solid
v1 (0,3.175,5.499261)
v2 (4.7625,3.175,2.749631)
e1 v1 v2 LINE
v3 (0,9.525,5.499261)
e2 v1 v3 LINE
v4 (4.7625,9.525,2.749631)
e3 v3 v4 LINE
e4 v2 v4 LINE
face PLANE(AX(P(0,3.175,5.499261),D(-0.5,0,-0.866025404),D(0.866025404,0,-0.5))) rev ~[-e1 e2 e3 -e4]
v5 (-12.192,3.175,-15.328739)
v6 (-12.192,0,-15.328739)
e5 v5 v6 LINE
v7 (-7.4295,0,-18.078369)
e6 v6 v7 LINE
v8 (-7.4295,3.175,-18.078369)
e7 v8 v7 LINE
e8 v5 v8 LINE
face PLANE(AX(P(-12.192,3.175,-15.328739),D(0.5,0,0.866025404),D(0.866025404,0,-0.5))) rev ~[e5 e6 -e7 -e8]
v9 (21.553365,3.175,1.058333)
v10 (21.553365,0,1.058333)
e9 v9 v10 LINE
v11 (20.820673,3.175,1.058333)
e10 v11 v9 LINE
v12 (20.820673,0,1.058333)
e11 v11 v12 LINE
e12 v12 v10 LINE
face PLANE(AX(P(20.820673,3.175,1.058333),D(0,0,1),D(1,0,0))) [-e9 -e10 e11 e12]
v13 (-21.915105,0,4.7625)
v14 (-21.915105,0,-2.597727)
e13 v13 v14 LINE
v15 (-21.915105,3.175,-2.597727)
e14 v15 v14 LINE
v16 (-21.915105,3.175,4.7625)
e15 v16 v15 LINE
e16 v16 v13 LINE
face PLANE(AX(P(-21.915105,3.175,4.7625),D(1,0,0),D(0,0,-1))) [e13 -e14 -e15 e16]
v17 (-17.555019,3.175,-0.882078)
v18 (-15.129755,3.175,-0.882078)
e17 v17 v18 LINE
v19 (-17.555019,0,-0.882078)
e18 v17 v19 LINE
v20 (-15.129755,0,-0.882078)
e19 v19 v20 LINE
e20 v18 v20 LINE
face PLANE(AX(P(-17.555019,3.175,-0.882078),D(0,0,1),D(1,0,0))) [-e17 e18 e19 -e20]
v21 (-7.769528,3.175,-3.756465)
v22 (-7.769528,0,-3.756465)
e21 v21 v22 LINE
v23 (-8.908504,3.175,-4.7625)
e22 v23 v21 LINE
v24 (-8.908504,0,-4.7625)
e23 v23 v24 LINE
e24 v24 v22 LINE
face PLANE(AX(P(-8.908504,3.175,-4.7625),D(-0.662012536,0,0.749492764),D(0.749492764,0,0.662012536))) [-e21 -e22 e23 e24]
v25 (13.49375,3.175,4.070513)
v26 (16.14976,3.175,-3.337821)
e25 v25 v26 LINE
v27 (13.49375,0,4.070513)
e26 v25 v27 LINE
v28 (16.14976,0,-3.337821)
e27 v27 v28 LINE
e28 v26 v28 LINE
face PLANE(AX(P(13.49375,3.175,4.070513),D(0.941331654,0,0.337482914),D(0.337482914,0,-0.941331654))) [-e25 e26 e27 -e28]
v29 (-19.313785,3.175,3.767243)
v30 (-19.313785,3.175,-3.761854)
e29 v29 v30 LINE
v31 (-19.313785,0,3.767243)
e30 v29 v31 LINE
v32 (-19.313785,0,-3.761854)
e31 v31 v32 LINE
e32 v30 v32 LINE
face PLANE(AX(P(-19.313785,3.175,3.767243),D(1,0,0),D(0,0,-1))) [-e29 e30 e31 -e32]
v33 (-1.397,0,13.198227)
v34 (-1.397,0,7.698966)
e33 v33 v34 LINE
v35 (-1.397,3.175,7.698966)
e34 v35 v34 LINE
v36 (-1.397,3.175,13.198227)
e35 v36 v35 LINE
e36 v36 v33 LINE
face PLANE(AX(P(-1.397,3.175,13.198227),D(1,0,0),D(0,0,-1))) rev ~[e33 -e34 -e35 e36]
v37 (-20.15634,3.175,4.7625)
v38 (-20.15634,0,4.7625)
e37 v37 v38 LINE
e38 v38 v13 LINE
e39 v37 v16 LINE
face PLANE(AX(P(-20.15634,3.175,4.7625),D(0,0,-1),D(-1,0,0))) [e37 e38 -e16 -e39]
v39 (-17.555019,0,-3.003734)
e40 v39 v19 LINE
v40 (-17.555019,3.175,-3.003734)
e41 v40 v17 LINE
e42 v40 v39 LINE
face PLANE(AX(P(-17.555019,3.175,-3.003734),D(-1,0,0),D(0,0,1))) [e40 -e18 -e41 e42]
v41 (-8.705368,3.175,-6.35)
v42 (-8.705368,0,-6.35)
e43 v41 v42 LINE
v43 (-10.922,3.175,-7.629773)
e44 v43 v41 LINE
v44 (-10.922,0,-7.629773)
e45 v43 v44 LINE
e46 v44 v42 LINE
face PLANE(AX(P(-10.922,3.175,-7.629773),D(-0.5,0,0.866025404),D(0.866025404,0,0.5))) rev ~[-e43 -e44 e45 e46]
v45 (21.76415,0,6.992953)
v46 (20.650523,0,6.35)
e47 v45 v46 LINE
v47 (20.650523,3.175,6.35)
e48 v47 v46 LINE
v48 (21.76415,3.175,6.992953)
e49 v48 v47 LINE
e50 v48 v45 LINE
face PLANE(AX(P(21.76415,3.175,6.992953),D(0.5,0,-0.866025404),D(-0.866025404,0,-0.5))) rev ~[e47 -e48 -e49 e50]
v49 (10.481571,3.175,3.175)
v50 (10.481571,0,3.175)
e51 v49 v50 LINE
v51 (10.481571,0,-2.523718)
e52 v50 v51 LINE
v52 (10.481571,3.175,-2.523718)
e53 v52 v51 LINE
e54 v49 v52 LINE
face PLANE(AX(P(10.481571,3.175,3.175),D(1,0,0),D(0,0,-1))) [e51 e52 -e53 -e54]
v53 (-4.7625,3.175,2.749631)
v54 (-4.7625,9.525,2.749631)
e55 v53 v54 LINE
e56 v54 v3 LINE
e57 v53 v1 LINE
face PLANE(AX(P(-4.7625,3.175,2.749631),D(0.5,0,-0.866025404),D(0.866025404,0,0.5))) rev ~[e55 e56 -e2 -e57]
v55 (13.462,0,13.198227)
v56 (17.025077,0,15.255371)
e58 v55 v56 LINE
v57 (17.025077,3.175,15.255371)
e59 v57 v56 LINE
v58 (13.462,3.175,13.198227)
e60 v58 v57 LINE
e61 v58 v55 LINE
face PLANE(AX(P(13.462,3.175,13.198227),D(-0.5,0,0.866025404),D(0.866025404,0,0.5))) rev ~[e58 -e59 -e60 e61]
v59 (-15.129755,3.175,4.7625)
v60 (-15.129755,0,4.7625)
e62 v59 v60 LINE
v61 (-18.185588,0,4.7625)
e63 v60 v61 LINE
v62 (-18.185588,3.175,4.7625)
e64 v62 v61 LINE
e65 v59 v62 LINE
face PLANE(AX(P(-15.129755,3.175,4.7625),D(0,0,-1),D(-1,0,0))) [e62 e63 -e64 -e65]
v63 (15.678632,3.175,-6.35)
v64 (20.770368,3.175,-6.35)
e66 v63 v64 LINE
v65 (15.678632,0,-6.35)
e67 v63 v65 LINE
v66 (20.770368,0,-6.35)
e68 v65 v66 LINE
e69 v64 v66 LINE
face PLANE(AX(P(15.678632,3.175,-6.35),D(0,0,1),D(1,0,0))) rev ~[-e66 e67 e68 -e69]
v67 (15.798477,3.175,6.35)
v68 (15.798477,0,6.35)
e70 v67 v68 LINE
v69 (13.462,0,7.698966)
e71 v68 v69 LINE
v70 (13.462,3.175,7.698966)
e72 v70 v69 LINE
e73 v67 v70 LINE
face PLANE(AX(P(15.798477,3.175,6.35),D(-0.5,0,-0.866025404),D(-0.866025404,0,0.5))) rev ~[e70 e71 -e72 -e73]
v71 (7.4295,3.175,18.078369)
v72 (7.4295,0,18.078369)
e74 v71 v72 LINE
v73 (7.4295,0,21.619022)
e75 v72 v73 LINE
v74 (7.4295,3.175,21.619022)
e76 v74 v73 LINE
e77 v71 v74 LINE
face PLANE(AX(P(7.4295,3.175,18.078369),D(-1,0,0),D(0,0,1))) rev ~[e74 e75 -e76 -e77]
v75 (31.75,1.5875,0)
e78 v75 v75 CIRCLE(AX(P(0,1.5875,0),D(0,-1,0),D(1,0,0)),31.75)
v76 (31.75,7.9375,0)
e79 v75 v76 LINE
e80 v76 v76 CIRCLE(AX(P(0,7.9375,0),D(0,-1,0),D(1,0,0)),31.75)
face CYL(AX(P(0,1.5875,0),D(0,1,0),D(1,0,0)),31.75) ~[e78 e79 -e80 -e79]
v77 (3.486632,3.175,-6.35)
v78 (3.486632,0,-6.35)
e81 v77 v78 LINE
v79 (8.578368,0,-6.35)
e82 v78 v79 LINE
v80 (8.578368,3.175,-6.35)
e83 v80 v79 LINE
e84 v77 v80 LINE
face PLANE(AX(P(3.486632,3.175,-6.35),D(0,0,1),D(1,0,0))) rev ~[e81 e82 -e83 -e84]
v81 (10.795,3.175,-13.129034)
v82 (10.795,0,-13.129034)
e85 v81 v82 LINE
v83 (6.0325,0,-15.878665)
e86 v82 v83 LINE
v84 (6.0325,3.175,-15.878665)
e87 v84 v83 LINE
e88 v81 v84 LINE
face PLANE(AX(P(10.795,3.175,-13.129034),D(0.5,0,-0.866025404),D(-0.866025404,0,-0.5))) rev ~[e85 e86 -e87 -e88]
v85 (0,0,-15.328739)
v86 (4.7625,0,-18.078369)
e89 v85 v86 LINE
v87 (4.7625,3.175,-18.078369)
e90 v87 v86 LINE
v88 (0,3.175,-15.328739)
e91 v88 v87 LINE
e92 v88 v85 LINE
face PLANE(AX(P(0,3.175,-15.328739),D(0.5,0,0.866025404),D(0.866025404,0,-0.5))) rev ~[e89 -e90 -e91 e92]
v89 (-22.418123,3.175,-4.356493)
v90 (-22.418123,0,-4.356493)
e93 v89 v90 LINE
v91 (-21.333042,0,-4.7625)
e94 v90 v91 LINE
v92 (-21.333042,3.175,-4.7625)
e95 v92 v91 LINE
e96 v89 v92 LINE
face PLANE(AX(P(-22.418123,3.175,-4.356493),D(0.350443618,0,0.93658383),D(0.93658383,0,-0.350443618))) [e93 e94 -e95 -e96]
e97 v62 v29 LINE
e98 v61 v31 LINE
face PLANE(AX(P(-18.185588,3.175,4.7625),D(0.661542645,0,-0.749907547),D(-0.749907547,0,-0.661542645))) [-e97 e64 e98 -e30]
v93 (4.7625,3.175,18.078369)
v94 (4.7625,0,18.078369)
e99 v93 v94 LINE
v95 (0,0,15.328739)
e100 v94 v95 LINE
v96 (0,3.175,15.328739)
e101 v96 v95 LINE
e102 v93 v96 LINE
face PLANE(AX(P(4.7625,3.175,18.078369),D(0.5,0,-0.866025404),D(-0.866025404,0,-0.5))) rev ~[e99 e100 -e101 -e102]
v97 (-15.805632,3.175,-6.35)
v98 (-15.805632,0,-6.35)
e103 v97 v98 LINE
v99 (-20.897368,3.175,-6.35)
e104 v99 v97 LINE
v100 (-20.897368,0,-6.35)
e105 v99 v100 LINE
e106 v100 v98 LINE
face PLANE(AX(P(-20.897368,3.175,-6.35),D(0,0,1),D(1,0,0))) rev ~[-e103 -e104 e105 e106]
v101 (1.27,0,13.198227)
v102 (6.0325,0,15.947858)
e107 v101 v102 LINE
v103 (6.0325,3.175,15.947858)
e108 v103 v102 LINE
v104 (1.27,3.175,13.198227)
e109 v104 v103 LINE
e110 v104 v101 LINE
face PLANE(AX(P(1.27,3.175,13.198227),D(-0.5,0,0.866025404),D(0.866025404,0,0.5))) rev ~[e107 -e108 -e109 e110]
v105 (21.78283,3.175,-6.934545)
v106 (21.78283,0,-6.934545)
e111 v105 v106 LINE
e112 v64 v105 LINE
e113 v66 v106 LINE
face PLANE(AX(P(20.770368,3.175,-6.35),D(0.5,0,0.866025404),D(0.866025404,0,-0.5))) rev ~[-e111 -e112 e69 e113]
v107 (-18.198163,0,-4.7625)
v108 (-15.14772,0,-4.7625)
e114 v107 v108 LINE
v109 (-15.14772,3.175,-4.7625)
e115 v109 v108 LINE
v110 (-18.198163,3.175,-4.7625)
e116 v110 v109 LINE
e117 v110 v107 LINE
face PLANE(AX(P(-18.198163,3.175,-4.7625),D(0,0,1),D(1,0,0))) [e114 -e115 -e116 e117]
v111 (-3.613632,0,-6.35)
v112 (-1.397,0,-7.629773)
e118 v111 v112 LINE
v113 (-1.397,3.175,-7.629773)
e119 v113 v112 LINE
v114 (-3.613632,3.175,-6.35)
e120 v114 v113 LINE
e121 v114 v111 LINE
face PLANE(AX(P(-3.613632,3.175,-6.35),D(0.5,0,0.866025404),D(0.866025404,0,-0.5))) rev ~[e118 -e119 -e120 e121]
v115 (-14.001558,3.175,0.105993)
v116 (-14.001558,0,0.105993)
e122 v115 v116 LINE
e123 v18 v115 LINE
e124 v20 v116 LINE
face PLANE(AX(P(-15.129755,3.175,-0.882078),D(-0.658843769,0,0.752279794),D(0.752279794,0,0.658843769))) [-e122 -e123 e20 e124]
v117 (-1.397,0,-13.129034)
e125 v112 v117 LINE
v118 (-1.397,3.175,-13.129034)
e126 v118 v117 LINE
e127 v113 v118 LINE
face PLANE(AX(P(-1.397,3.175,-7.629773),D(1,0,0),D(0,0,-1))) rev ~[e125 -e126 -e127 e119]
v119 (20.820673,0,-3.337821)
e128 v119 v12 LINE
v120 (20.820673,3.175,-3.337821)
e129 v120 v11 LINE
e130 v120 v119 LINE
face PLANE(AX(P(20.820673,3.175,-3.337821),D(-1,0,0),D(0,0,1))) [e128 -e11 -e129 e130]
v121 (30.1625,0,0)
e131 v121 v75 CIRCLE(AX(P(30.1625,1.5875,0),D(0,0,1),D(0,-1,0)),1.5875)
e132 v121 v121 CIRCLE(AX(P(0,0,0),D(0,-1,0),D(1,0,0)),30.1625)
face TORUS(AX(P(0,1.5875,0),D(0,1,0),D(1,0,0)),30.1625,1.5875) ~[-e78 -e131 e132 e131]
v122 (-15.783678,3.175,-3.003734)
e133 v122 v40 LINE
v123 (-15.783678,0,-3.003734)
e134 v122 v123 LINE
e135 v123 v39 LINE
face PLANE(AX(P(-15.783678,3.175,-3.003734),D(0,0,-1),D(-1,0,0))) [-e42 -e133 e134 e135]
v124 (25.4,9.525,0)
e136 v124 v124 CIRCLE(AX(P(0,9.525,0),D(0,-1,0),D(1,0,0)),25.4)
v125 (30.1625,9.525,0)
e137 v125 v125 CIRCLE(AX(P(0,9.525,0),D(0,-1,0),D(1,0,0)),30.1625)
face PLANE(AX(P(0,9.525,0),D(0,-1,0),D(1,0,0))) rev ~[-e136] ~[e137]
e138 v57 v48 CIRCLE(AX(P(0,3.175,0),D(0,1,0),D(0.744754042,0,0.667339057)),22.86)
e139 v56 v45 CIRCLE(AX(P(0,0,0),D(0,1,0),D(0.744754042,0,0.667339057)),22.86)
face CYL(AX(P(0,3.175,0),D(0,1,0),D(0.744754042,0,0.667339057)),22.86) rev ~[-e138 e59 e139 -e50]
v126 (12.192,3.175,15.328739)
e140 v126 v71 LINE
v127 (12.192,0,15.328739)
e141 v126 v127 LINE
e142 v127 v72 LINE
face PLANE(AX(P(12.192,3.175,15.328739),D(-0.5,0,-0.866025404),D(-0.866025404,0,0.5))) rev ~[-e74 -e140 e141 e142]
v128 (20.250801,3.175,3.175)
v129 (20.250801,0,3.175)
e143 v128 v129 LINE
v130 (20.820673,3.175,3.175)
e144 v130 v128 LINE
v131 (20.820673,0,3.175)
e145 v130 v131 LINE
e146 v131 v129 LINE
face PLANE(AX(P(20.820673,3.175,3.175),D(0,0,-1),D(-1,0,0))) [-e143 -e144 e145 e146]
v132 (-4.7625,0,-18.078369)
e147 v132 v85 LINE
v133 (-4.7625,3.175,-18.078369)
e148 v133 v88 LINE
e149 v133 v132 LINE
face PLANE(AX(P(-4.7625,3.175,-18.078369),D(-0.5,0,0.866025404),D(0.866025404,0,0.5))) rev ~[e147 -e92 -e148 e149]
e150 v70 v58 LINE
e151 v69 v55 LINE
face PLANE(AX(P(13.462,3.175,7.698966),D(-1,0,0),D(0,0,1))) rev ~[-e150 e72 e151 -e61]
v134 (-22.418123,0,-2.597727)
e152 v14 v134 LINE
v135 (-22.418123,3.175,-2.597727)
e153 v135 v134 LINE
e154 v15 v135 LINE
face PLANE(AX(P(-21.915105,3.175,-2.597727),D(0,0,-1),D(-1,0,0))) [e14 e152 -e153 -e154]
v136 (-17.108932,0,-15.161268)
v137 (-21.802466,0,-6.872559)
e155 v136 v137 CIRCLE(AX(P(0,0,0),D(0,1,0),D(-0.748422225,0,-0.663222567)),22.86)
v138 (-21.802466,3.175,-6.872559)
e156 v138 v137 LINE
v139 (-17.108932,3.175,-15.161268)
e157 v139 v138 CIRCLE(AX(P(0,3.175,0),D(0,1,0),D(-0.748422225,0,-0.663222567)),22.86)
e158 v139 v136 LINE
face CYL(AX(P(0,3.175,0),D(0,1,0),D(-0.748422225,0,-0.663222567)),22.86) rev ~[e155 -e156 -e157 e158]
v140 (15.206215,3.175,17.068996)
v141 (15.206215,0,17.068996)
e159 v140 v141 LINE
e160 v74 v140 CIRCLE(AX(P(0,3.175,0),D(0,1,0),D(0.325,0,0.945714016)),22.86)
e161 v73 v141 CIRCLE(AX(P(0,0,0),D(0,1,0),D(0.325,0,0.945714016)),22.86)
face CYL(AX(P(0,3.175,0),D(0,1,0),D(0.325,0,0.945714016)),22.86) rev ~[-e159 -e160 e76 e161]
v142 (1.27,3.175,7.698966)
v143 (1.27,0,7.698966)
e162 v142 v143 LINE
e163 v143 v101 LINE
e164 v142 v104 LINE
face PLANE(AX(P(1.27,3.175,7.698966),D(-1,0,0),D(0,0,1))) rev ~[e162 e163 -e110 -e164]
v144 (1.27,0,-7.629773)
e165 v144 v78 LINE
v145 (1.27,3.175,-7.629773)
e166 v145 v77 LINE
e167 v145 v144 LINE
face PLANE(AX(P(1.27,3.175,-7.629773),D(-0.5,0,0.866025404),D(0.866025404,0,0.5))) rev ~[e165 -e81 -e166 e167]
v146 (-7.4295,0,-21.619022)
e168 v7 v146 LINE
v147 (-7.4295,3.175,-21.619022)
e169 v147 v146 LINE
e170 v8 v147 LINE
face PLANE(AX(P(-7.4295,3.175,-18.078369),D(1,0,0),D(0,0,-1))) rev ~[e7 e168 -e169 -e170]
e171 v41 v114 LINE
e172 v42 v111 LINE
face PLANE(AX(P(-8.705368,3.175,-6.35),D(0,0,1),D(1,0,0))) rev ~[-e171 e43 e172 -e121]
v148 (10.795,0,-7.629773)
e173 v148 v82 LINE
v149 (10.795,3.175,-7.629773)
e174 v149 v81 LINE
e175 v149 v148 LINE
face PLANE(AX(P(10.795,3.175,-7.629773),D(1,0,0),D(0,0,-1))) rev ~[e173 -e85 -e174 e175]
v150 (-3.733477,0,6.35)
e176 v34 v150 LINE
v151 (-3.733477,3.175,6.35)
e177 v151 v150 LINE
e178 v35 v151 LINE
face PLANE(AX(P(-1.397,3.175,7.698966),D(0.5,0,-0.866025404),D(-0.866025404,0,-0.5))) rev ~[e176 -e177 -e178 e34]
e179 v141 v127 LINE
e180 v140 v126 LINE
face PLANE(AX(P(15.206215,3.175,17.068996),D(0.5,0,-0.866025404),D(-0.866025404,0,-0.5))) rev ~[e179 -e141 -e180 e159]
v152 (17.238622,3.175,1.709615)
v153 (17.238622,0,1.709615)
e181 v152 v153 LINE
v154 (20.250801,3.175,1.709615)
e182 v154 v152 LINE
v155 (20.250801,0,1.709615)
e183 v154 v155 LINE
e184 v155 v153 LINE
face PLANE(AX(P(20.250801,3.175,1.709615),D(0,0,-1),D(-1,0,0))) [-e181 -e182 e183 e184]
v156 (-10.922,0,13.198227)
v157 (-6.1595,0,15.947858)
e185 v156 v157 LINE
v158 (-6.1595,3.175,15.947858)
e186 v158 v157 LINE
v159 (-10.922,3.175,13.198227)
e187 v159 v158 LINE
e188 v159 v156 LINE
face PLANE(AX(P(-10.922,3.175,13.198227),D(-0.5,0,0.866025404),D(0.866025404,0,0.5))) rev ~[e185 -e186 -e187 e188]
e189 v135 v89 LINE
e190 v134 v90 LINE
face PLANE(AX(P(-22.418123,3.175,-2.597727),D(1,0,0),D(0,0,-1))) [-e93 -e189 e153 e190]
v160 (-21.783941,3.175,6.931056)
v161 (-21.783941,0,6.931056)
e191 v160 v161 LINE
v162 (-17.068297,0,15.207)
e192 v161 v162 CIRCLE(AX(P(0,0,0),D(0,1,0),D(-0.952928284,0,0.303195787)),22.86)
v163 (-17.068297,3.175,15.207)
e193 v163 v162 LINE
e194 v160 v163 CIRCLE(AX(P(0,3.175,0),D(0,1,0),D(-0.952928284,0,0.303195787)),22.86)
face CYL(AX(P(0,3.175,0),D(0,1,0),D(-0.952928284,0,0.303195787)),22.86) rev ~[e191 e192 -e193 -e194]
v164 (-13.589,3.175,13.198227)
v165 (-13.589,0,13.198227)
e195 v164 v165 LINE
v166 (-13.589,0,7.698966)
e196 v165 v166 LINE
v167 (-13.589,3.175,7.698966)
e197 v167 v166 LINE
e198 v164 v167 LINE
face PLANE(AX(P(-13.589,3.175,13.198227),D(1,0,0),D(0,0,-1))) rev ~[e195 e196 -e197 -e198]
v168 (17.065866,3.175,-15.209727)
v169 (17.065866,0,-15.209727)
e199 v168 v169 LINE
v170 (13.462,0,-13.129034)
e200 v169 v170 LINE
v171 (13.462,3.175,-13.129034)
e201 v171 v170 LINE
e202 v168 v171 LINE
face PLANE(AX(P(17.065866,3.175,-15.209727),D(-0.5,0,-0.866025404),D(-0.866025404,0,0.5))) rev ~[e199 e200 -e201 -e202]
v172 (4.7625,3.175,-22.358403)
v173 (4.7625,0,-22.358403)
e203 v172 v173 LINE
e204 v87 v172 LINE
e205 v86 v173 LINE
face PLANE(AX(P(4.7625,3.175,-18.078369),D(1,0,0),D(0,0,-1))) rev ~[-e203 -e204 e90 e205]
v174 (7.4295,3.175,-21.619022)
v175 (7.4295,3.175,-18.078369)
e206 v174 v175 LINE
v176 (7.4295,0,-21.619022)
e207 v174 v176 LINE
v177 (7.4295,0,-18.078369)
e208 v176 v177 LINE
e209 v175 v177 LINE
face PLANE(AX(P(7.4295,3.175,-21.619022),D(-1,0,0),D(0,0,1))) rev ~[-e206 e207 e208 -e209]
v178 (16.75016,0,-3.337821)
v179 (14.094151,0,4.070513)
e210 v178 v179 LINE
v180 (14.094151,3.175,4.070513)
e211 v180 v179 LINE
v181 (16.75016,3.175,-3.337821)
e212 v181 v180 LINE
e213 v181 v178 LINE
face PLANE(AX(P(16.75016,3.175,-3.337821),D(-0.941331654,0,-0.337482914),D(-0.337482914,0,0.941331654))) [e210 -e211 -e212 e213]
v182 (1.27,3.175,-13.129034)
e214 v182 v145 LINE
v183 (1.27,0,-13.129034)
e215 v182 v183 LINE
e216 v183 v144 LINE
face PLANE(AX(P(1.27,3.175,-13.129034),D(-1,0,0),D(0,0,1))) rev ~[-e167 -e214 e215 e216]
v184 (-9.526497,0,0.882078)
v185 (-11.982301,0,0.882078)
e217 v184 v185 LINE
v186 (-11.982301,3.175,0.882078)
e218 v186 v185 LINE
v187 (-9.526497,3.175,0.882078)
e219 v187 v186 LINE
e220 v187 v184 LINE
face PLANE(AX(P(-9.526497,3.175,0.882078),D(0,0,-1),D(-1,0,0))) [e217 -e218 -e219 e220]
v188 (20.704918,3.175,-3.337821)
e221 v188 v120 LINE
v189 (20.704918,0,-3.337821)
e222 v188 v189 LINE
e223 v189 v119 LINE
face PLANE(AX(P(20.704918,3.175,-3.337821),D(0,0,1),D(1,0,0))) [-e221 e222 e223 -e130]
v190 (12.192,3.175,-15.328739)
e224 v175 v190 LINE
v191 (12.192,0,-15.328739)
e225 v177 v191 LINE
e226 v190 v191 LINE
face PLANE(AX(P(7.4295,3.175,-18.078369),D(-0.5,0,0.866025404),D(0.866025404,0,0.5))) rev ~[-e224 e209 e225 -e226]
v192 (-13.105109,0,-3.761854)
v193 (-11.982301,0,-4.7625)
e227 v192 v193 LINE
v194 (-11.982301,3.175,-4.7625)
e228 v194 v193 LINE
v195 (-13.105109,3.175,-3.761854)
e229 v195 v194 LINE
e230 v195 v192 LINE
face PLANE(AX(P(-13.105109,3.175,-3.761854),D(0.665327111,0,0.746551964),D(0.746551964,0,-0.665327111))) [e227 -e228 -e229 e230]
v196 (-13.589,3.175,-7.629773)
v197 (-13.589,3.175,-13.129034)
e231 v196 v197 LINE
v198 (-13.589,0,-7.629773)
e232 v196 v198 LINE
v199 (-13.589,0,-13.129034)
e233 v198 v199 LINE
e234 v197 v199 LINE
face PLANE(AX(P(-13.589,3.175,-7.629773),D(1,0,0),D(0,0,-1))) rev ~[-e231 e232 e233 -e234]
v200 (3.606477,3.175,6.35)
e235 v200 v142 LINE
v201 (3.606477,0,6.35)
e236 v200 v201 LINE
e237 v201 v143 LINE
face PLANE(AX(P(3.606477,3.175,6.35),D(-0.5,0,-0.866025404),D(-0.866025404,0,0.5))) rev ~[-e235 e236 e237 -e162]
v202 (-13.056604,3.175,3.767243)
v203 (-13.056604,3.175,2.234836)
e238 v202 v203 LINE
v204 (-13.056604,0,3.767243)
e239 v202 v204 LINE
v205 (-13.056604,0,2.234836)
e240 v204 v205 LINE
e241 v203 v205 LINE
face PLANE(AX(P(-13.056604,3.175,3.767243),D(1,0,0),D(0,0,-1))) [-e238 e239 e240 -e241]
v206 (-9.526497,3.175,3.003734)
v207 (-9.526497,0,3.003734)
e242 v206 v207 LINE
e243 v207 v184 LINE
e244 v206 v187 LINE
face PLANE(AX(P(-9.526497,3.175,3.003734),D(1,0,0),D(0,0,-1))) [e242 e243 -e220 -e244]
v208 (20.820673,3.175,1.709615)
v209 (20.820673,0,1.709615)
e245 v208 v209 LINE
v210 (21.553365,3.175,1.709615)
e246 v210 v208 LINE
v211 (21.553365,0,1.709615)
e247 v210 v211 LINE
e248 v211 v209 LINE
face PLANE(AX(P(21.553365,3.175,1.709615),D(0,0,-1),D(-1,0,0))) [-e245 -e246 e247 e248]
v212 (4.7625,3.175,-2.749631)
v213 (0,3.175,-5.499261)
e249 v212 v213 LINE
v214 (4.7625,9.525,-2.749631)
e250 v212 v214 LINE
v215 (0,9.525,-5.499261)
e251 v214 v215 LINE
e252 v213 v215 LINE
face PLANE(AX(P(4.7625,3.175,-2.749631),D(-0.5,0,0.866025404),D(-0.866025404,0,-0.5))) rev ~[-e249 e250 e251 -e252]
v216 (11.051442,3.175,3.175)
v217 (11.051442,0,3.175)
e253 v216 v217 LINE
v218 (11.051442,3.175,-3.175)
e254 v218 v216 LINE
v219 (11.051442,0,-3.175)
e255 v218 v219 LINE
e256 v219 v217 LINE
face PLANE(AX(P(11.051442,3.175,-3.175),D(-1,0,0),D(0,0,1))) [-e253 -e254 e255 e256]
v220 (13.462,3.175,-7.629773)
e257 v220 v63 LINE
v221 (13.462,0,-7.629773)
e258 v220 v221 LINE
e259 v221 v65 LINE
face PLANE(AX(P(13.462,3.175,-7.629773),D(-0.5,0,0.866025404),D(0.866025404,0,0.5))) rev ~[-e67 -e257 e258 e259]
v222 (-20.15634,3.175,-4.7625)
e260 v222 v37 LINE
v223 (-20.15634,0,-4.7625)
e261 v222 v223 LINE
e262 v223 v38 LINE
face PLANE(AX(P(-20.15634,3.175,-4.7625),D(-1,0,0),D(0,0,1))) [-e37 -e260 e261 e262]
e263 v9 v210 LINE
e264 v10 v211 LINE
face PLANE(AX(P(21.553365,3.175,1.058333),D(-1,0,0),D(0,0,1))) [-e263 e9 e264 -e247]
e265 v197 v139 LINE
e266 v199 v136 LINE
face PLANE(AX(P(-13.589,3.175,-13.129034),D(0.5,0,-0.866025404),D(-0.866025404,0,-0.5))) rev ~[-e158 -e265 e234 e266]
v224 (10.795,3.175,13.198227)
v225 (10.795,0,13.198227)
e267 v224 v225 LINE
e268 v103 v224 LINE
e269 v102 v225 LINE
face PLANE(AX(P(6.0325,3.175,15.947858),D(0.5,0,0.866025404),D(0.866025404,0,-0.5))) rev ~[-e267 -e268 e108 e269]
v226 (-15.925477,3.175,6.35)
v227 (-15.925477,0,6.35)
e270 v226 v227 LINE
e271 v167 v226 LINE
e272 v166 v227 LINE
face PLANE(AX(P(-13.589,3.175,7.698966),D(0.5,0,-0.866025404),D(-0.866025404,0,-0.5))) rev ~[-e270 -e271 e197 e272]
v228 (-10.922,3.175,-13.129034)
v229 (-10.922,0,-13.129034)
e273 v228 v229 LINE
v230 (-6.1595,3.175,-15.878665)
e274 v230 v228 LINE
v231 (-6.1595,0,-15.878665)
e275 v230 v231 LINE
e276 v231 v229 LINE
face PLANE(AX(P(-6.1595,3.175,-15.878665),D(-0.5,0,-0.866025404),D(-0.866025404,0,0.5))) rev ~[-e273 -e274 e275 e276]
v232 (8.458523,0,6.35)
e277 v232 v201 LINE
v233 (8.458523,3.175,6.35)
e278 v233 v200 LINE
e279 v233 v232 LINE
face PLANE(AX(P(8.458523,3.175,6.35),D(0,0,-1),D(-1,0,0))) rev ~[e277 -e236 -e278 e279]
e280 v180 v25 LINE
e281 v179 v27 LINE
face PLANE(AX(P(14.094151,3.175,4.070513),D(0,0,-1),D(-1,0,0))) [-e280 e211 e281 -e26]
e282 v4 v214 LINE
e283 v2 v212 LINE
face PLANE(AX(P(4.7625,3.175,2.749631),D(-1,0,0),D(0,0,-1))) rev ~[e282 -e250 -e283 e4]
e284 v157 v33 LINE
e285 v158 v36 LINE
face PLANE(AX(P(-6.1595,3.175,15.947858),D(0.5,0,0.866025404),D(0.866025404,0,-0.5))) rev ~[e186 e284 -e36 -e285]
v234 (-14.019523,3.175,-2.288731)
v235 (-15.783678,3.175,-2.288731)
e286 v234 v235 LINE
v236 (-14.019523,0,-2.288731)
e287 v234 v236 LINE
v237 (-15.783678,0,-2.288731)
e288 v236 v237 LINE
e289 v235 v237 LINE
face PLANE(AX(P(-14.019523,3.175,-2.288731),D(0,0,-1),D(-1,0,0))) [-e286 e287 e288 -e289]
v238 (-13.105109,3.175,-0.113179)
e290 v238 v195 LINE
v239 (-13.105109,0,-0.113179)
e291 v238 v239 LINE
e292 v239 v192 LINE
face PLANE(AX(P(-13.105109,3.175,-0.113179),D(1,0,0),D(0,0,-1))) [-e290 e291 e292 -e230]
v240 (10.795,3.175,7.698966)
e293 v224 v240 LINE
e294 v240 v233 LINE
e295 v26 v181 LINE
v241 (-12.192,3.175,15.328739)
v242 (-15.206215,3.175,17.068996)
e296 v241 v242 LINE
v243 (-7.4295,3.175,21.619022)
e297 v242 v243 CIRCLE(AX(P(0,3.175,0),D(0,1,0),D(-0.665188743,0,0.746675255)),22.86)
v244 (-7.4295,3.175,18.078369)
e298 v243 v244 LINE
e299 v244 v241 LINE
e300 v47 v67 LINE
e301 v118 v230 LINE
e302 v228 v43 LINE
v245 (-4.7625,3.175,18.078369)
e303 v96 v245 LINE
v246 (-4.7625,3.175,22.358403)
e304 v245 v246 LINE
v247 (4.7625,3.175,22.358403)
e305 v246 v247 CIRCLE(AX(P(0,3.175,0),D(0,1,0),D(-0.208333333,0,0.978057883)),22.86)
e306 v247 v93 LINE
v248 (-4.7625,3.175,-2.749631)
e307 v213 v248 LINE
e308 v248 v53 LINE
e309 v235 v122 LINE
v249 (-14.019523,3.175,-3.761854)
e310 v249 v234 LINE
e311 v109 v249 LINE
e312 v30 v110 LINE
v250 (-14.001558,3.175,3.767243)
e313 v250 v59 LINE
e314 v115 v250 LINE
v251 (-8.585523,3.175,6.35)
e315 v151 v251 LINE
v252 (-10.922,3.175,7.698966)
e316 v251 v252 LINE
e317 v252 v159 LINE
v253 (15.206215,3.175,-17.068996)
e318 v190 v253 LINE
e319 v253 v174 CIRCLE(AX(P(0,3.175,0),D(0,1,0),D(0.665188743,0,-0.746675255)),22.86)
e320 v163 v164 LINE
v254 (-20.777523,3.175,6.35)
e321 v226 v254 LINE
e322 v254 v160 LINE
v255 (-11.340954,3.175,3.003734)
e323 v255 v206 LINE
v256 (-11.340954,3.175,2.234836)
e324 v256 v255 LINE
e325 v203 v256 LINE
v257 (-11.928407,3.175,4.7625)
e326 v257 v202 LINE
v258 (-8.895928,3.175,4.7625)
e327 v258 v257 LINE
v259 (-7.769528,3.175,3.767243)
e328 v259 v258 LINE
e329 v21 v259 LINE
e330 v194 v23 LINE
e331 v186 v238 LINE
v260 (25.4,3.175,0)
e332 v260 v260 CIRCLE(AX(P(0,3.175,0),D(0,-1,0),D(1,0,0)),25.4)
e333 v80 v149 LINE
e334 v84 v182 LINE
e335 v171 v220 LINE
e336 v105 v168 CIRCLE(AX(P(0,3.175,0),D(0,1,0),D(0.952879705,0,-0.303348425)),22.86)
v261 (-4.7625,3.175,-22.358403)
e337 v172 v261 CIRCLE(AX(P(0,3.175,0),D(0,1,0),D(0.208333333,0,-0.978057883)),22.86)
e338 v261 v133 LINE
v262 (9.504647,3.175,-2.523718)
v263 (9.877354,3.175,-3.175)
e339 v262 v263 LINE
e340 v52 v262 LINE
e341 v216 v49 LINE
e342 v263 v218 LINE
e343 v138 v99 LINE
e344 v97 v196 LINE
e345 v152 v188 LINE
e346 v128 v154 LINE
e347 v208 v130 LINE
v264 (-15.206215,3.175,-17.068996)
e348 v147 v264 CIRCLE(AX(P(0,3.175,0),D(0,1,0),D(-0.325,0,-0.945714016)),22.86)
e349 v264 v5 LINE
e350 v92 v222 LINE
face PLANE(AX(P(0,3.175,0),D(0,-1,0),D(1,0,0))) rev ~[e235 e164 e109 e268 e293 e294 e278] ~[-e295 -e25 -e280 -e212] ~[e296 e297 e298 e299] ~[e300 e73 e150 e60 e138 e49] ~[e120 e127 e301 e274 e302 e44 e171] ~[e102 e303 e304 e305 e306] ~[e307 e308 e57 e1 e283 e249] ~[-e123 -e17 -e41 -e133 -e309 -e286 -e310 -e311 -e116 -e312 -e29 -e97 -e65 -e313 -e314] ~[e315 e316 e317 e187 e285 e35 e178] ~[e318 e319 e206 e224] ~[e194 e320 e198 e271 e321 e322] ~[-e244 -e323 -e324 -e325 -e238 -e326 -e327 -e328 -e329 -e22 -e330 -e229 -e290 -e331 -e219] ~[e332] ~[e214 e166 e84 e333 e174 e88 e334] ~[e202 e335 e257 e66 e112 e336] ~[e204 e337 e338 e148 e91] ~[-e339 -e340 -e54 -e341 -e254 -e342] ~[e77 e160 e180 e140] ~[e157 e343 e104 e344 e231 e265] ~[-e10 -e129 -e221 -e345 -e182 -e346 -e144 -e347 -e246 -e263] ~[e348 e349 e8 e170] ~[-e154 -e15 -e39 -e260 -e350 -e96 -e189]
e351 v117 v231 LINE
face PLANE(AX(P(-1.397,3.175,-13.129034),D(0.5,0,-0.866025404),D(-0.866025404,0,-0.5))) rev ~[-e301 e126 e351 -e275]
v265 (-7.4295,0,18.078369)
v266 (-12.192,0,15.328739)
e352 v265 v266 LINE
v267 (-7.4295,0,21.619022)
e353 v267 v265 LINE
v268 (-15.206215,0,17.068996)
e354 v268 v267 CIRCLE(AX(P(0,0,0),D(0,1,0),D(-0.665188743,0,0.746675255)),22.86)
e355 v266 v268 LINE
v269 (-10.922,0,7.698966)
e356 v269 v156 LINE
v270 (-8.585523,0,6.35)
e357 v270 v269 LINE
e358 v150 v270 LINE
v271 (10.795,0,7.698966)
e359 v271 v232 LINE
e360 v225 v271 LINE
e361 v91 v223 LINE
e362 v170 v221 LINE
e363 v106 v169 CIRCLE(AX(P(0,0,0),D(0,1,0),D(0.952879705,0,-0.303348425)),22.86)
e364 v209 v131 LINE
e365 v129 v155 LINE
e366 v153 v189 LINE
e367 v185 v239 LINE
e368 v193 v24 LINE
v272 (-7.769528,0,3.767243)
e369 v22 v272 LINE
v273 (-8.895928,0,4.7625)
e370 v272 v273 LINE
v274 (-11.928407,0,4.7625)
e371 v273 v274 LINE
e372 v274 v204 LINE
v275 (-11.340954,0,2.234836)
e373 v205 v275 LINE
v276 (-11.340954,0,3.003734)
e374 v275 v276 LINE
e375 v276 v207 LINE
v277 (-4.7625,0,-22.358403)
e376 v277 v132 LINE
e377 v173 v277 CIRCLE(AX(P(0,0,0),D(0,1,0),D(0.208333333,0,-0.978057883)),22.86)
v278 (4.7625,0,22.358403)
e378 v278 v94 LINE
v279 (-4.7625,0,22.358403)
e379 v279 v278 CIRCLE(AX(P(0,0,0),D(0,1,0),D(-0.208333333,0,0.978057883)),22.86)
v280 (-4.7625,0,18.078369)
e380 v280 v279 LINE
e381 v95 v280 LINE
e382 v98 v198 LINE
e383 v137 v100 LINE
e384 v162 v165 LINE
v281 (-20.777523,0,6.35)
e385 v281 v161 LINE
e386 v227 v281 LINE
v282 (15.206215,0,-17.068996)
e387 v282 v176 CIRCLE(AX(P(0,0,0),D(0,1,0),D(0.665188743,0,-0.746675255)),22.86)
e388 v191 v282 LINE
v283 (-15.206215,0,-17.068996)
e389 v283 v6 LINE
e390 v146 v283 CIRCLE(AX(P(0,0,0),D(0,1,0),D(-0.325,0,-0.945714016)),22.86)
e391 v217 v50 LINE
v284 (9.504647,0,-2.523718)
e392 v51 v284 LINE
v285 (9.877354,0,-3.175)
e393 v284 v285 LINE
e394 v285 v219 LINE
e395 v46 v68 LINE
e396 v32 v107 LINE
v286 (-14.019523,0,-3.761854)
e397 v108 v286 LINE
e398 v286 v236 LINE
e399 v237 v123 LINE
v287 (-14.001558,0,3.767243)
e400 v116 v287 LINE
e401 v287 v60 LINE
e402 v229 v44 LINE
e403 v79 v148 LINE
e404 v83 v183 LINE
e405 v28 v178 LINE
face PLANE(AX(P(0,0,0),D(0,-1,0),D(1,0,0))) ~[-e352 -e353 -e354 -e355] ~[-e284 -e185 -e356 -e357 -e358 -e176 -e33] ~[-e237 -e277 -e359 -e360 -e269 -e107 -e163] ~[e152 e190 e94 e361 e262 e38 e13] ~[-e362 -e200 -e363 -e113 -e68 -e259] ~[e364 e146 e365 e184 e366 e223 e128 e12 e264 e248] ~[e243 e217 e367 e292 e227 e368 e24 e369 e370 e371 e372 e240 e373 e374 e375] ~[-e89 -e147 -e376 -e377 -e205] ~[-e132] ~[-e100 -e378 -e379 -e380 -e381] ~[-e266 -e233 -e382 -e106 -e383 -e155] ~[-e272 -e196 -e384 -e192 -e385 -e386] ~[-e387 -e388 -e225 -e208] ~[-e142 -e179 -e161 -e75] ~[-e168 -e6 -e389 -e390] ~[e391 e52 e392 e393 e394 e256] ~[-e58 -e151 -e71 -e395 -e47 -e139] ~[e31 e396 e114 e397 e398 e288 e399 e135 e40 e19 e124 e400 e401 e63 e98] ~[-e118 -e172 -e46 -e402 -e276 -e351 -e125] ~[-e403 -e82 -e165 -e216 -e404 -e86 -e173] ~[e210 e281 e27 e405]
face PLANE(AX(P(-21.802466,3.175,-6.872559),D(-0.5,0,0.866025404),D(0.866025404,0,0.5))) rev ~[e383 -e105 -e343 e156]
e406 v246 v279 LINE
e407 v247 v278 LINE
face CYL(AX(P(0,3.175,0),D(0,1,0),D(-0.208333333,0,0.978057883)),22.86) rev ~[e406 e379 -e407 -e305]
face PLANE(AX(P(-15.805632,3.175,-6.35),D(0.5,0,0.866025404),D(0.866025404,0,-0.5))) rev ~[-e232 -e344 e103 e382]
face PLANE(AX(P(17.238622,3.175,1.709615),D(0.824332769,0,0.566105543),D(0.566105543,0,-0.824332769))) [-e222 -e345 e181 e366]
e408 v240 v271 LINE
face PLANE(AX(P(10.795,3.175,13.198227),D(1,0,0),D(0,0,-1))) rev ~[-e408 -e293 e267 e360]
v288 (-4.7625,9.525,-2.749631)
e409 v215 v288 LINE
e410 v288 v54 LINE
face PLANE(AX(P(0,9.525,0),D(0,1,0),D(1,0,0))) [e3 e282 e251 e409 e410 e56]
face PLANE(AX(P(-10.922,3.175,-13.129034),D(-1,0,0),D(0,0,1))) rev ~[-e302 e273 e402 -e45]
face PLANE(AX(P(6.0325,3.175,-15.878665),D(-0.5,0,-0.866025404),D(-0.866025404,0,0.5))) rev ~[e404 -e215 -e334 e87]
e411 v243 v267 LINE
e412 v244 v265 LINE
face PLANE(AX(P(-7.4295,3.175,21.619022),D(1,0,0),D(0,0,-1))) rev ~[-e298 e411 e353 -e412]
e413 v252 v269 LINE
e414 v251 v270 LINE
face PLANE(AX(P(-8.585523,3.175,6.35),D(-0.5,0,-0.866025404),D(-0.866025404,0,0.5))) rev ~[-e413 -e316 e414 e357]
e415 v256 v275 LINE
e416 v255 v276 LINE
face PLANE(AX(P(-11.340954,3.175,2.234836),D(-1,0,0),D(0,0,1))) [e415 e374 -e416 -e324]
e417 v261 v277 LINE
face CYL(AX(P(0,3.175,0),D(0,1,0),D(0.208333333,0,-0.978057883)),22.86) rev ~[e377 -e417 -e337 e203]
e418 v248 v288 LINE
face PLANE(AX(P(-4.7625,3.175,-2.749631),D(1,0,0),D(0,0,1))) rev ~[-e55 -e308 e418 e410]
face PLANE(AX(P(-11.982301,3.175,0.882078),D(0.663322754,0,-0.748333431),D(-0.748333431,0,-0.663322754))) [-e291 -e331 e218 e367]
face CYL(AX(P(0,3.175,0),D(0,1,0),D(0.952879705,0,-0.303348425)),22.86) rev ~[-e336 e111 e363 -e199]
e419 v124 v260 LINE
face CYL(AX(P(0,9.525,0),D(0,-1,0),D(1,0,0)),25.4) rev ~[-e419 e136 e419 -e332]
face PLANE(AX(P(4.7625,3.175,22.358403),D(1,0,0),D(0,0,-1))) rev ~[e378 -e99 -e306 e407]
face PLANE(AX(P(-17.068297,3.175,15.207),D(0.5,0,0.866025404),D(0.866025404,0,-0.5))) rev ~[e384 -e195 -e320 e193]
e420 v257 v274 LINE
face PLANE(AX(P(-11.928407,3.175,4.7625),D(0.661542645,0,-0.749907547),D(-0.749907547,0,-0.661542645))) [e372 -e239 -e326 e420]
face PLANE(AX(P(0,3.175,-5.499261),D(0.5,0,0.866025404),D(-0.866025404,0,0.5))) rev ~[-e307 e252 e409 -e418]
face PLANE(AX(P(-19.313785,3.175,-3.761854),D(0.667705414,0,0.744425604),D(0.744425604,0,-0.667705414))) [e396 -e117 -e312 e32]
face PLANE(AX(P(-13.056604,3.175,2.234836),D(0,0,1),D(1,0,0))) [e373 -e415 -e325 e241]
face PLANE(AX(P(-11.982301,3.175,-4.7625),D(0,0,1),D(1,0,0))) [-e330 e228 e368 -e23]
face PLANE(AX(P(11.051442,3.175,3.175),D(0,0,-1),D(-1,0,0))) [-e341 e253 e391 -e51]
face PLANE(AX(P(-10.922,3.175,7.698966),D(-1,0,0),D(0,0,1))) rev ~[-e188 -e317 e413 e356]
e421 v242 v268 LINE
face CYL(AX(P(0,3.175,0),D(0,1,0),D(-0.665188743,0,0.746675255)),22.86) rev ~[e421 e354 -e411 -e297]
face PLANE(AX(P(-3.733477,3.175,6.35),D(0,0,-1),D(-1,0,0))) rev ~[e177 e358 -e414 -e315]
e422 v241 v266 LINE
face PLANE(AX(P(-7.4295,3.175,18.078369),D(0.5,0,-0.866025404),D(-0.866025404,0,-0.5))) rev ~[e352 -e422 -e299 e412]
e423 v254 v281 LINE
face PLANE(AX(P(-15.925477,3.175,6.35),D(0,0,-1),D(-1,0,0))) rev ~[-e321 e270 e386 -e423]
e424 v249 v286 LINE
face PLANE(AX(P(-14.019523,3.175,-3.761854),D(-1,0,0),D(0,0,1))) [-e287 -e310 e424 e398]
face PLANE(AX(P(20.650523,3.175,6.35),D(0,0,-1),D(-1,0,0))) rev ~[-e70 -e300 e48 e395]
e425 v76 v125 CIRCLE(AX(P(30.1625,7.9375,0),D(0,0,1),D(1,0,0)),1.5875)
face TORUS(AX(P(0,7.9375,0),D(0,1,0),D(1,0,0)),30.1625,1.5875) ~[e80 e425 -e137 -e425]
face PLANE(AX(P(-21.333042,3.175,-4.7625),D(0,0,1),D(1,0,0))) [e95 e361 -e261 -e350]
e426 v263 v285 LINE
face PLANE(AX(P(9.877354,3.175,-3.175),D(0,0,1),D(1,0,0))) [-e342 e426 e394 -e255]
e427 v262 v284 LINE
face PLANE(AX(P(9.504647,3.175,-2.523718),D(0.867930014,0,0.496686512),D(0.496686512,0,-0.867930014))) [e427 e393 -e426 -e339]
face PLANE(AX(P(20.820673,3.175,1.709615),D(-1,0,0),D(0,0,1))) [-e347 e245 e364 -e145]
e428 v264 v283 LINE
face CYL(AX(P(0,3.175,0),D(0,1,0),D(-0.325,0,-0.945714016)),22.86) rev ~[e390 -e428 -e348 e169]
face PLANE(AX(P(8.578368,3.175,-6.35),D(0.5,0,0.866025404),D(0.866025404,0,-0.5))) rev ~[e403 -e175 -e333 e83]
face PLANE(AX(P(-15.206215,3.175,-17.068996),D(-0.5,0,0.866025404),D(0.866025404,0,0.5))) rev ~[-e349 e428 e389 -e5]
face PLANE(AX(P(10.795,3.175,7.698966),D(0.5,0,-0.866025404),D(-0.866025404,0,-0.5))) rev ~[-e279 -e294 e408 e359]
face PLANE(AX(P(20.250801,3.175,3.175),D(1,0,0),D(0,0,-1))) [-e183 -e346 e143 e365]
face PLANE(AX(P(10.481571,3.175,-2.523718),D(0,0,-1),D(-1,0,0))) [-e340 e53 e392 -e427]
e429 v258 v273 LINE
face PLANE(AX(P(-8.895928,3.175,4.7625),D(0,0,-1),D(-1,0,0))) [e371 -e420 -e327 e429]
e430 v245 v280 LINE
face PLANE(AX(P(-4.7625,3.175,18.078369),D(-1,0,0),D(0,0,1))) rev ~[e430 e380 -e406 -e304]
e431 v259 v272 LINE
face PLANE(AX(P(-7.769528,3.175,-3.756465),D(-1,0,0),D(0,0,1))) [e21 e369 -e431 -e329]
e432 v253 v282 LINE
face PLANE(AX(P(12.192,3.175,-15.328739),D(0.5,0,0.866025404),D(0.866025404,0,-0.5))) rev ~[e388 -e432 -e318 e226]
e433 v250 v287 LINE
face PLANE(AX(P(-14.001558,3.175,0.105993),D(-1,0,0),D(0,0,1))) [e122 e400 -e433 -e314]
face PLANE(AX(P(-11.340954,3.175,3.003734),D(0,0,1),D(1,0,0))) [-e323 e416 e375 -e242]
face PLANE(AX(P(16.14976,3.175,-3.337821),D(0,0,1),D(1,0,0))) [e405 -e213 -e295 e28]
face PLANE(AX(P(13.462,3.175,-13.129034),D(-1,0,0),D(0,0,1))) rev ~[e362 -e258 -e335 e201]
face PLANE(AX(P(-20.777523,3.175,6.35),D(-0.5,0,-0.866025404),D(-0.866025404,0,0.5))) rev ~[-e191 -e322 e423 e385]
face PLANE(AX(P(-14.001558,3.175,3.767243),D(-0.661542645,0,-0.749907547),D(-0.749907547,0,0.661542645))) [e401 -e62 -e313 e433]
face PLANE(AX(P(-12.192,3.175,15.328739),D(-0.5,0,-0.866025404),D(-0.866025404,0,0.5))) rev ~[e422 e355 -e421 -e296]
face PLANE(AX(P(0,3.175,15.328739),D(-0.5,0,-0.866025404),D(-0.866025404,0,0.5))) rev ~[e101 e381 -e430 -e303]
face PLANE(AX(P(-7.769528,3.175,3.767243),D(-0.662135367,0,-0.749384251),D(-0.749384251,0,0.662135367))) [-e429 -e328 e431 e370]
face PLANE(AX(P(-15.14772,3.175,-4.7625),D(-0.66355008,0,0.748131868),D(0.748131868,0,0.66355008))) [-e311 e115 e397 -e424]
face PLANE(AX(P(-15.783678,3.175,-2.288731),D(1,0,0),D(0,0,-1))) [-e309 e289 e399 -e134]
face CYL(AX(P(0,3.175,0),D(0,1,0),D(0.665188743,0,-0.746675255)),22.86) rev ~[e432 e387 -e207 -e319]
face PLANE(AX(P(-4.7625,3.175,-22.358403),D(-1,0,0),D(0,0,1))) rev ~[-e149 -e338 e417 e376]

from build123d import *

# Parameters (mm, degrees)
BOSS_EXTRUDE1_DEPTH     = 6.35
CUT_EXTRUDE1_DEPTH      = 7.3500001
CUT_EXTRUDE1_DEPTH_BACK = 4.175
CUT_EXTRUDE3_DEPTH      = 7.3500001
CUT_EXTRUDE3_DEPTH_BACK = 4.175


with BuildPart() as part:
    # Sketch1 → Revolve1 (revolve)
    with BuildSketch(Plane.XY):
        with BuildLine():
            Line((0, 0), (30.1625, 0))
            ThreePointArc((30.1625, 0), (31.285032015, 0.464967985), (31.75, 1.5875))
            Line((31.75, 1.5875), (31.75, 7.9375))
            ThreePointArc((31.75, 7.9375), (31.285032015, 9.060032015), (30.1625, 9.525))
            Line((30.1625, 9.525), (25.4, 9.525))
            Line((25.4, 9.525), (25.4, 3.175))
            Line((25.4, 3.175), (0, 3.175))
            Line((0, 3.175), (0, 0))
        make_face()
    revolve(axis=Axis((0, 3.175, 0), (0, -1, 0)))

    # Sketch2 → Boss-Extrude1 (add)
    with BuildSketch(Plane(origin=(0, 3.175, 0), x_dir=(1, 0, 0), z_dir=(0, 1, 0))):
        Polygon((0, -5.499261314), (4.7625, -2.749630657), (4.7625, 2.749630657), (0, 5.499261314), (-4.7625, 2.749630657), (-4.7625, -2.749630657), align=None)
    extrude(amount=BOSS_EXTRUDE1_DEPTH)

    # Sketch3 → Cut-Extrude1 (cut, two sides)
    with BuildSketch(Plane(origin=(0, 3.175, 0), x_dir=(1, 0, 0), z_dir=(0, 1, 0))) as cut_extrude1_sk:
        Polygon((-20.156339589, -4.7625), (-21.915105149, -4.7625), (-21.915105149, 2.597727273), (-22.418122878, 2.597727273), (-22.418122878, 4.356492833), (-21.333041777, 4.7625), (-20.156339589, 4.7625), align=None)
        Polygon((-14.001558374, -3.767243493), (-15.129755281, -4.7625), (-18.185587986, -4.7625), (-19.313784892, -3.767243493), (-19.313784892, 3.761854017), (-18.198163429, 4.7625), (-15.1477202, 4.7625), (-14.019523293, 3.761854017), (-14.019523293, 2.288730668), (-15.783678329, 2.288730668), (-15.783678329, 3.00373444), (-17.555019332, 3.00373444), (-17.555019332, 0.882077518), (-15.129755281, 0.882077518), (-14.001558374, -0.105993022), align=None)
        Polygon((-7.769528008, -3.767243493), (-8.895928423, -4.7625), (-11.928406733, -4.7625), (-13.05660364, -3.767243493), (-13.05660364, -2.234835911), (-11.340953885, -2.234835911), (-11.340953885, -3.00373444), (-9.526497077, -3.00373444), (-9.526497077, -0.882077518), (-11.98230149, -0.882077518), (-13.105108921, 0.113178989), (-13.105108921, 3.761854017), (-11.98230149, 4.7625), (-8.908503866, 4.7625), (-7.769528008, 3.756464542), align=None)
        Polygon((9.877353766, 3.175), (11.051442308, 3.175), (11.051442308, -3.175), (10.481570513, -3.175), (10.481570513, 2.523717949), (9.504647436, 2.523717949), align=None)
        Polygon((16.750160256, 3.337820513), (14.094150641, -4.070512821), (13.49375, -4.070512821), (16.149759615, 3.337820513), align=None)
        Polygon((20.704917869, 3.337820513), (20.820673077, 3.337820513), (20.820673077, -1.058333333), (21.553365385, -1.058333333), (21.553365385, -1.709615385), (20.820673077, -1.709615385), (20.820673077, -3.175), (20.250801282, -3.175), (20.250801282, -1.709615385), (17.238621795, -1.709615385), align=None)
    extrude(amount=CUT_EXTRUDE1_DEPTH, mode=Mode.SUBTRACT)
    extrude(cut_extrude1_sk.sketch, amount=-CUT_EXTRUDE1_DEPTH_BACK, mode=Mode.SUBTRACT)

    # Sketch4 → Cut-Extrude3 (cut, two sides)
    with BuildSketch(Plane(origin=(0, 3.175, 0), x_dir=(1, 0, 0), z_dir=(0, 1, 0))) as cut_extrude3_sk:
        with BuildLine():
            Line((-20.897368408, 6.35), (-15.805631592, 6.35))
            Line((-15.805631592, 6.35), (-13.589, 7.629772846))
            Line((-13.589, 7.629772846), (-13.589, 13.12903416))
            Line((-13.589, 13.12903416), (-17.108932059, 15.161267882))
            ThreePointArc((-17.108932059, 15.161267882), (-19.892207199, 11.264088635), (-21.802466353, 6.872558542))
            Line((-21.802466353, 6.872558542), (-20.897368408, 6.35))
        make_face()
        with BuildLine():
            ThreePointArc((-7.4295, 21.619022405), (-11.544244404, 19.730940706), (-15.206214659, 17.068996331))
            Line((-15.206214659, 17.068996331), (-12.192, 15.328738686))
            Line((-12.192, 15.328738686), (-7.4295, 18.078369343))
            Line((-7.4295, 18.078369343), (-7.4295, 21.619022405))
        make_face()
        Polygon((-8.705368408, 6.35), (-3.613631592, 6.35), (-1.397, 7.629772846), (-1.397, 13.12903416), (-6.1595, 15.878664817), (-10.922, 13.12903416), (-10.922, 7.629772846), align=None)
        with BuildLine():
            ThreePointArc((4.7625, 22.358403202), (0, 22.86), (-4.7625, 22.358403202))
            Line((-4.7625, 22.358403202), (-4.7625, 18.078369343))
            Line((-4.7625, 18.078369343), (0, 15.328738686))
            Line((0, 15.328738686), (4.7625, 18.078369343))
            Line((4.7625, 18.078369343), (4.7625, 22.358403202))
        make_face()
        Polygon((1.27, 7.629772846), (3.486631592, 6.35), (8.578368408, 6.35), (10.795, 7.629772846), (10.795, 13.12903416), (6.0325, 15.878664817), (1.27, 13.12903416), align=None)
        with BuildLine():
            Line((12.192, 15.328738686), (15.206214659, 17.068996331))
            ThreePointArc((15.206214659, 17.068996331), (11.544244404, 19.730940706), (7.4295, 21.619022405))
            Line((7.4295, 21.619022405), (7.4295, 18.078369343))
            Line((7.4295, 18.078369343), (12.192, 15.328738686))
        make_face()
        with BuildLine():
            Line((13.462, 7.629772846), (15.678631592, 6.35))
            Line((15.678631592, 6.35), (20.770368408, 6.35))
            Line((20.770368408, 6.35), (21.782830062, 6.934545009))
            ThreePointArc((21.782830062, 6.934545009), (19.860135036, 11.320540463), (17.065866333, 15.209727358))
            Line((17.065866333, 15.209727358), (13.462, 13.12903416))
            Line((13.462, 13.12903416), (13.462, 7.629772846))
        make_face()
        with BuildLine():
            Line((20.650522628, -6.35), (15.798477372, -6.35))
            Line((15.798477372, -6.35), (13.462, -7.69896584))
            Line((13.462, -7.69896584), (13.462, -13.198227154))
            Line((13.462, -13.198227154), (17.025077395, -15.255370847))
            ThreePointArc((17.025077395, -15.255370847), (19.829723184, -11.373727554), (21.764149656, -6.992952864))
            Line((21.764149656, -6.992952864), (20.650522628, -6.35))
        make_face()
        with BuildLine():
            ThreePointArc((7.4295, -21.619022405), (11.544244404, -19.730940706), (15.206214659, -17.068996331))
            Line((15.206214659, -17.068996331), (12.192, -15.328738686))
            Line((12.192, -15.328738686), (7.4295, -18.078369343))
            Line((7.4295, -18.078369343), (7.4295, -21.619022405))
        make_face()
        Polygon((8.458522628, -6.35), (3.606477372, -6.35), (1.27, -7.69896584), (1.27, -13.198227154), (6.0325, -15.947857811), (10.795, -13.198227154), (10.795, -7.69896584), align=None)
        with BuildLine():
            Line((-4.7625, -18.078369343), (-4.7625, -22.358403202))
            ThreePointArc((-4.7625, -22.358403202), (0, -22.86), (4.7625, -22.358403202))
            Line((4.7625, -22.358403202), (4.7625, -18.078369343))
            Line((4.7625, -18.078369343), (0, -15.328738686))
            Line((0, -15.328738686), (-4.7625, -18.078369343))
        make_face()
        Polygon((-1.397, -7.69896584), (-3.733477372, -6.35), (-8.585522628, -6.35), (-10.922, -7.69896584), (-10.922, -13.198227154), (-6.1595, -15.947857811), (-1.397, -13.198227154), align=None)
        with BuildLine():
            Line((-12.192, -15.328738686), (-15.206214659, -17.068996331))
            ThreePointArc((-15.206214659, -17.068996331), (-11.544244404, -19.730940706), (-7.4295, -21.619022405))
            Line((-7.4295, -21.619022405), (-7.4295, -18.078369343))
            Line((-7.4295, -18.078369343), (-12.192, -15.328738686))
        make_face()
        with BuildLine():
            Line((-13.589, -7.69896584), (-15.925477372, -6.35))
            Line((-15.925477372, -6.35), (-20.777522628, -6.35))
            Line((-20.777522628, -6.35), (-21.783940581, -6.931055676))
            ThreePointArc((-21.783940581, -6.931055676), (-19.861945981, -11.317362848), (-17.068296652, -15.207000013))
            Line((-17.068296652, -15.207000013), (-13.589, -13.198227154))
            Line((-13.589, -13.198227154), (-13.589, -7.69896584))
        make_face()
    extrude(amount=CUT_EXTRUDE3_DEPTH, mode=Mode.SUBTRACT)
    extrude(cut_extrude3_sk.sketch, amount=-CUT_EXTRUDE3_DEPTH_BACK, mode=Mode.SUBTRACT)


solid = part.part
